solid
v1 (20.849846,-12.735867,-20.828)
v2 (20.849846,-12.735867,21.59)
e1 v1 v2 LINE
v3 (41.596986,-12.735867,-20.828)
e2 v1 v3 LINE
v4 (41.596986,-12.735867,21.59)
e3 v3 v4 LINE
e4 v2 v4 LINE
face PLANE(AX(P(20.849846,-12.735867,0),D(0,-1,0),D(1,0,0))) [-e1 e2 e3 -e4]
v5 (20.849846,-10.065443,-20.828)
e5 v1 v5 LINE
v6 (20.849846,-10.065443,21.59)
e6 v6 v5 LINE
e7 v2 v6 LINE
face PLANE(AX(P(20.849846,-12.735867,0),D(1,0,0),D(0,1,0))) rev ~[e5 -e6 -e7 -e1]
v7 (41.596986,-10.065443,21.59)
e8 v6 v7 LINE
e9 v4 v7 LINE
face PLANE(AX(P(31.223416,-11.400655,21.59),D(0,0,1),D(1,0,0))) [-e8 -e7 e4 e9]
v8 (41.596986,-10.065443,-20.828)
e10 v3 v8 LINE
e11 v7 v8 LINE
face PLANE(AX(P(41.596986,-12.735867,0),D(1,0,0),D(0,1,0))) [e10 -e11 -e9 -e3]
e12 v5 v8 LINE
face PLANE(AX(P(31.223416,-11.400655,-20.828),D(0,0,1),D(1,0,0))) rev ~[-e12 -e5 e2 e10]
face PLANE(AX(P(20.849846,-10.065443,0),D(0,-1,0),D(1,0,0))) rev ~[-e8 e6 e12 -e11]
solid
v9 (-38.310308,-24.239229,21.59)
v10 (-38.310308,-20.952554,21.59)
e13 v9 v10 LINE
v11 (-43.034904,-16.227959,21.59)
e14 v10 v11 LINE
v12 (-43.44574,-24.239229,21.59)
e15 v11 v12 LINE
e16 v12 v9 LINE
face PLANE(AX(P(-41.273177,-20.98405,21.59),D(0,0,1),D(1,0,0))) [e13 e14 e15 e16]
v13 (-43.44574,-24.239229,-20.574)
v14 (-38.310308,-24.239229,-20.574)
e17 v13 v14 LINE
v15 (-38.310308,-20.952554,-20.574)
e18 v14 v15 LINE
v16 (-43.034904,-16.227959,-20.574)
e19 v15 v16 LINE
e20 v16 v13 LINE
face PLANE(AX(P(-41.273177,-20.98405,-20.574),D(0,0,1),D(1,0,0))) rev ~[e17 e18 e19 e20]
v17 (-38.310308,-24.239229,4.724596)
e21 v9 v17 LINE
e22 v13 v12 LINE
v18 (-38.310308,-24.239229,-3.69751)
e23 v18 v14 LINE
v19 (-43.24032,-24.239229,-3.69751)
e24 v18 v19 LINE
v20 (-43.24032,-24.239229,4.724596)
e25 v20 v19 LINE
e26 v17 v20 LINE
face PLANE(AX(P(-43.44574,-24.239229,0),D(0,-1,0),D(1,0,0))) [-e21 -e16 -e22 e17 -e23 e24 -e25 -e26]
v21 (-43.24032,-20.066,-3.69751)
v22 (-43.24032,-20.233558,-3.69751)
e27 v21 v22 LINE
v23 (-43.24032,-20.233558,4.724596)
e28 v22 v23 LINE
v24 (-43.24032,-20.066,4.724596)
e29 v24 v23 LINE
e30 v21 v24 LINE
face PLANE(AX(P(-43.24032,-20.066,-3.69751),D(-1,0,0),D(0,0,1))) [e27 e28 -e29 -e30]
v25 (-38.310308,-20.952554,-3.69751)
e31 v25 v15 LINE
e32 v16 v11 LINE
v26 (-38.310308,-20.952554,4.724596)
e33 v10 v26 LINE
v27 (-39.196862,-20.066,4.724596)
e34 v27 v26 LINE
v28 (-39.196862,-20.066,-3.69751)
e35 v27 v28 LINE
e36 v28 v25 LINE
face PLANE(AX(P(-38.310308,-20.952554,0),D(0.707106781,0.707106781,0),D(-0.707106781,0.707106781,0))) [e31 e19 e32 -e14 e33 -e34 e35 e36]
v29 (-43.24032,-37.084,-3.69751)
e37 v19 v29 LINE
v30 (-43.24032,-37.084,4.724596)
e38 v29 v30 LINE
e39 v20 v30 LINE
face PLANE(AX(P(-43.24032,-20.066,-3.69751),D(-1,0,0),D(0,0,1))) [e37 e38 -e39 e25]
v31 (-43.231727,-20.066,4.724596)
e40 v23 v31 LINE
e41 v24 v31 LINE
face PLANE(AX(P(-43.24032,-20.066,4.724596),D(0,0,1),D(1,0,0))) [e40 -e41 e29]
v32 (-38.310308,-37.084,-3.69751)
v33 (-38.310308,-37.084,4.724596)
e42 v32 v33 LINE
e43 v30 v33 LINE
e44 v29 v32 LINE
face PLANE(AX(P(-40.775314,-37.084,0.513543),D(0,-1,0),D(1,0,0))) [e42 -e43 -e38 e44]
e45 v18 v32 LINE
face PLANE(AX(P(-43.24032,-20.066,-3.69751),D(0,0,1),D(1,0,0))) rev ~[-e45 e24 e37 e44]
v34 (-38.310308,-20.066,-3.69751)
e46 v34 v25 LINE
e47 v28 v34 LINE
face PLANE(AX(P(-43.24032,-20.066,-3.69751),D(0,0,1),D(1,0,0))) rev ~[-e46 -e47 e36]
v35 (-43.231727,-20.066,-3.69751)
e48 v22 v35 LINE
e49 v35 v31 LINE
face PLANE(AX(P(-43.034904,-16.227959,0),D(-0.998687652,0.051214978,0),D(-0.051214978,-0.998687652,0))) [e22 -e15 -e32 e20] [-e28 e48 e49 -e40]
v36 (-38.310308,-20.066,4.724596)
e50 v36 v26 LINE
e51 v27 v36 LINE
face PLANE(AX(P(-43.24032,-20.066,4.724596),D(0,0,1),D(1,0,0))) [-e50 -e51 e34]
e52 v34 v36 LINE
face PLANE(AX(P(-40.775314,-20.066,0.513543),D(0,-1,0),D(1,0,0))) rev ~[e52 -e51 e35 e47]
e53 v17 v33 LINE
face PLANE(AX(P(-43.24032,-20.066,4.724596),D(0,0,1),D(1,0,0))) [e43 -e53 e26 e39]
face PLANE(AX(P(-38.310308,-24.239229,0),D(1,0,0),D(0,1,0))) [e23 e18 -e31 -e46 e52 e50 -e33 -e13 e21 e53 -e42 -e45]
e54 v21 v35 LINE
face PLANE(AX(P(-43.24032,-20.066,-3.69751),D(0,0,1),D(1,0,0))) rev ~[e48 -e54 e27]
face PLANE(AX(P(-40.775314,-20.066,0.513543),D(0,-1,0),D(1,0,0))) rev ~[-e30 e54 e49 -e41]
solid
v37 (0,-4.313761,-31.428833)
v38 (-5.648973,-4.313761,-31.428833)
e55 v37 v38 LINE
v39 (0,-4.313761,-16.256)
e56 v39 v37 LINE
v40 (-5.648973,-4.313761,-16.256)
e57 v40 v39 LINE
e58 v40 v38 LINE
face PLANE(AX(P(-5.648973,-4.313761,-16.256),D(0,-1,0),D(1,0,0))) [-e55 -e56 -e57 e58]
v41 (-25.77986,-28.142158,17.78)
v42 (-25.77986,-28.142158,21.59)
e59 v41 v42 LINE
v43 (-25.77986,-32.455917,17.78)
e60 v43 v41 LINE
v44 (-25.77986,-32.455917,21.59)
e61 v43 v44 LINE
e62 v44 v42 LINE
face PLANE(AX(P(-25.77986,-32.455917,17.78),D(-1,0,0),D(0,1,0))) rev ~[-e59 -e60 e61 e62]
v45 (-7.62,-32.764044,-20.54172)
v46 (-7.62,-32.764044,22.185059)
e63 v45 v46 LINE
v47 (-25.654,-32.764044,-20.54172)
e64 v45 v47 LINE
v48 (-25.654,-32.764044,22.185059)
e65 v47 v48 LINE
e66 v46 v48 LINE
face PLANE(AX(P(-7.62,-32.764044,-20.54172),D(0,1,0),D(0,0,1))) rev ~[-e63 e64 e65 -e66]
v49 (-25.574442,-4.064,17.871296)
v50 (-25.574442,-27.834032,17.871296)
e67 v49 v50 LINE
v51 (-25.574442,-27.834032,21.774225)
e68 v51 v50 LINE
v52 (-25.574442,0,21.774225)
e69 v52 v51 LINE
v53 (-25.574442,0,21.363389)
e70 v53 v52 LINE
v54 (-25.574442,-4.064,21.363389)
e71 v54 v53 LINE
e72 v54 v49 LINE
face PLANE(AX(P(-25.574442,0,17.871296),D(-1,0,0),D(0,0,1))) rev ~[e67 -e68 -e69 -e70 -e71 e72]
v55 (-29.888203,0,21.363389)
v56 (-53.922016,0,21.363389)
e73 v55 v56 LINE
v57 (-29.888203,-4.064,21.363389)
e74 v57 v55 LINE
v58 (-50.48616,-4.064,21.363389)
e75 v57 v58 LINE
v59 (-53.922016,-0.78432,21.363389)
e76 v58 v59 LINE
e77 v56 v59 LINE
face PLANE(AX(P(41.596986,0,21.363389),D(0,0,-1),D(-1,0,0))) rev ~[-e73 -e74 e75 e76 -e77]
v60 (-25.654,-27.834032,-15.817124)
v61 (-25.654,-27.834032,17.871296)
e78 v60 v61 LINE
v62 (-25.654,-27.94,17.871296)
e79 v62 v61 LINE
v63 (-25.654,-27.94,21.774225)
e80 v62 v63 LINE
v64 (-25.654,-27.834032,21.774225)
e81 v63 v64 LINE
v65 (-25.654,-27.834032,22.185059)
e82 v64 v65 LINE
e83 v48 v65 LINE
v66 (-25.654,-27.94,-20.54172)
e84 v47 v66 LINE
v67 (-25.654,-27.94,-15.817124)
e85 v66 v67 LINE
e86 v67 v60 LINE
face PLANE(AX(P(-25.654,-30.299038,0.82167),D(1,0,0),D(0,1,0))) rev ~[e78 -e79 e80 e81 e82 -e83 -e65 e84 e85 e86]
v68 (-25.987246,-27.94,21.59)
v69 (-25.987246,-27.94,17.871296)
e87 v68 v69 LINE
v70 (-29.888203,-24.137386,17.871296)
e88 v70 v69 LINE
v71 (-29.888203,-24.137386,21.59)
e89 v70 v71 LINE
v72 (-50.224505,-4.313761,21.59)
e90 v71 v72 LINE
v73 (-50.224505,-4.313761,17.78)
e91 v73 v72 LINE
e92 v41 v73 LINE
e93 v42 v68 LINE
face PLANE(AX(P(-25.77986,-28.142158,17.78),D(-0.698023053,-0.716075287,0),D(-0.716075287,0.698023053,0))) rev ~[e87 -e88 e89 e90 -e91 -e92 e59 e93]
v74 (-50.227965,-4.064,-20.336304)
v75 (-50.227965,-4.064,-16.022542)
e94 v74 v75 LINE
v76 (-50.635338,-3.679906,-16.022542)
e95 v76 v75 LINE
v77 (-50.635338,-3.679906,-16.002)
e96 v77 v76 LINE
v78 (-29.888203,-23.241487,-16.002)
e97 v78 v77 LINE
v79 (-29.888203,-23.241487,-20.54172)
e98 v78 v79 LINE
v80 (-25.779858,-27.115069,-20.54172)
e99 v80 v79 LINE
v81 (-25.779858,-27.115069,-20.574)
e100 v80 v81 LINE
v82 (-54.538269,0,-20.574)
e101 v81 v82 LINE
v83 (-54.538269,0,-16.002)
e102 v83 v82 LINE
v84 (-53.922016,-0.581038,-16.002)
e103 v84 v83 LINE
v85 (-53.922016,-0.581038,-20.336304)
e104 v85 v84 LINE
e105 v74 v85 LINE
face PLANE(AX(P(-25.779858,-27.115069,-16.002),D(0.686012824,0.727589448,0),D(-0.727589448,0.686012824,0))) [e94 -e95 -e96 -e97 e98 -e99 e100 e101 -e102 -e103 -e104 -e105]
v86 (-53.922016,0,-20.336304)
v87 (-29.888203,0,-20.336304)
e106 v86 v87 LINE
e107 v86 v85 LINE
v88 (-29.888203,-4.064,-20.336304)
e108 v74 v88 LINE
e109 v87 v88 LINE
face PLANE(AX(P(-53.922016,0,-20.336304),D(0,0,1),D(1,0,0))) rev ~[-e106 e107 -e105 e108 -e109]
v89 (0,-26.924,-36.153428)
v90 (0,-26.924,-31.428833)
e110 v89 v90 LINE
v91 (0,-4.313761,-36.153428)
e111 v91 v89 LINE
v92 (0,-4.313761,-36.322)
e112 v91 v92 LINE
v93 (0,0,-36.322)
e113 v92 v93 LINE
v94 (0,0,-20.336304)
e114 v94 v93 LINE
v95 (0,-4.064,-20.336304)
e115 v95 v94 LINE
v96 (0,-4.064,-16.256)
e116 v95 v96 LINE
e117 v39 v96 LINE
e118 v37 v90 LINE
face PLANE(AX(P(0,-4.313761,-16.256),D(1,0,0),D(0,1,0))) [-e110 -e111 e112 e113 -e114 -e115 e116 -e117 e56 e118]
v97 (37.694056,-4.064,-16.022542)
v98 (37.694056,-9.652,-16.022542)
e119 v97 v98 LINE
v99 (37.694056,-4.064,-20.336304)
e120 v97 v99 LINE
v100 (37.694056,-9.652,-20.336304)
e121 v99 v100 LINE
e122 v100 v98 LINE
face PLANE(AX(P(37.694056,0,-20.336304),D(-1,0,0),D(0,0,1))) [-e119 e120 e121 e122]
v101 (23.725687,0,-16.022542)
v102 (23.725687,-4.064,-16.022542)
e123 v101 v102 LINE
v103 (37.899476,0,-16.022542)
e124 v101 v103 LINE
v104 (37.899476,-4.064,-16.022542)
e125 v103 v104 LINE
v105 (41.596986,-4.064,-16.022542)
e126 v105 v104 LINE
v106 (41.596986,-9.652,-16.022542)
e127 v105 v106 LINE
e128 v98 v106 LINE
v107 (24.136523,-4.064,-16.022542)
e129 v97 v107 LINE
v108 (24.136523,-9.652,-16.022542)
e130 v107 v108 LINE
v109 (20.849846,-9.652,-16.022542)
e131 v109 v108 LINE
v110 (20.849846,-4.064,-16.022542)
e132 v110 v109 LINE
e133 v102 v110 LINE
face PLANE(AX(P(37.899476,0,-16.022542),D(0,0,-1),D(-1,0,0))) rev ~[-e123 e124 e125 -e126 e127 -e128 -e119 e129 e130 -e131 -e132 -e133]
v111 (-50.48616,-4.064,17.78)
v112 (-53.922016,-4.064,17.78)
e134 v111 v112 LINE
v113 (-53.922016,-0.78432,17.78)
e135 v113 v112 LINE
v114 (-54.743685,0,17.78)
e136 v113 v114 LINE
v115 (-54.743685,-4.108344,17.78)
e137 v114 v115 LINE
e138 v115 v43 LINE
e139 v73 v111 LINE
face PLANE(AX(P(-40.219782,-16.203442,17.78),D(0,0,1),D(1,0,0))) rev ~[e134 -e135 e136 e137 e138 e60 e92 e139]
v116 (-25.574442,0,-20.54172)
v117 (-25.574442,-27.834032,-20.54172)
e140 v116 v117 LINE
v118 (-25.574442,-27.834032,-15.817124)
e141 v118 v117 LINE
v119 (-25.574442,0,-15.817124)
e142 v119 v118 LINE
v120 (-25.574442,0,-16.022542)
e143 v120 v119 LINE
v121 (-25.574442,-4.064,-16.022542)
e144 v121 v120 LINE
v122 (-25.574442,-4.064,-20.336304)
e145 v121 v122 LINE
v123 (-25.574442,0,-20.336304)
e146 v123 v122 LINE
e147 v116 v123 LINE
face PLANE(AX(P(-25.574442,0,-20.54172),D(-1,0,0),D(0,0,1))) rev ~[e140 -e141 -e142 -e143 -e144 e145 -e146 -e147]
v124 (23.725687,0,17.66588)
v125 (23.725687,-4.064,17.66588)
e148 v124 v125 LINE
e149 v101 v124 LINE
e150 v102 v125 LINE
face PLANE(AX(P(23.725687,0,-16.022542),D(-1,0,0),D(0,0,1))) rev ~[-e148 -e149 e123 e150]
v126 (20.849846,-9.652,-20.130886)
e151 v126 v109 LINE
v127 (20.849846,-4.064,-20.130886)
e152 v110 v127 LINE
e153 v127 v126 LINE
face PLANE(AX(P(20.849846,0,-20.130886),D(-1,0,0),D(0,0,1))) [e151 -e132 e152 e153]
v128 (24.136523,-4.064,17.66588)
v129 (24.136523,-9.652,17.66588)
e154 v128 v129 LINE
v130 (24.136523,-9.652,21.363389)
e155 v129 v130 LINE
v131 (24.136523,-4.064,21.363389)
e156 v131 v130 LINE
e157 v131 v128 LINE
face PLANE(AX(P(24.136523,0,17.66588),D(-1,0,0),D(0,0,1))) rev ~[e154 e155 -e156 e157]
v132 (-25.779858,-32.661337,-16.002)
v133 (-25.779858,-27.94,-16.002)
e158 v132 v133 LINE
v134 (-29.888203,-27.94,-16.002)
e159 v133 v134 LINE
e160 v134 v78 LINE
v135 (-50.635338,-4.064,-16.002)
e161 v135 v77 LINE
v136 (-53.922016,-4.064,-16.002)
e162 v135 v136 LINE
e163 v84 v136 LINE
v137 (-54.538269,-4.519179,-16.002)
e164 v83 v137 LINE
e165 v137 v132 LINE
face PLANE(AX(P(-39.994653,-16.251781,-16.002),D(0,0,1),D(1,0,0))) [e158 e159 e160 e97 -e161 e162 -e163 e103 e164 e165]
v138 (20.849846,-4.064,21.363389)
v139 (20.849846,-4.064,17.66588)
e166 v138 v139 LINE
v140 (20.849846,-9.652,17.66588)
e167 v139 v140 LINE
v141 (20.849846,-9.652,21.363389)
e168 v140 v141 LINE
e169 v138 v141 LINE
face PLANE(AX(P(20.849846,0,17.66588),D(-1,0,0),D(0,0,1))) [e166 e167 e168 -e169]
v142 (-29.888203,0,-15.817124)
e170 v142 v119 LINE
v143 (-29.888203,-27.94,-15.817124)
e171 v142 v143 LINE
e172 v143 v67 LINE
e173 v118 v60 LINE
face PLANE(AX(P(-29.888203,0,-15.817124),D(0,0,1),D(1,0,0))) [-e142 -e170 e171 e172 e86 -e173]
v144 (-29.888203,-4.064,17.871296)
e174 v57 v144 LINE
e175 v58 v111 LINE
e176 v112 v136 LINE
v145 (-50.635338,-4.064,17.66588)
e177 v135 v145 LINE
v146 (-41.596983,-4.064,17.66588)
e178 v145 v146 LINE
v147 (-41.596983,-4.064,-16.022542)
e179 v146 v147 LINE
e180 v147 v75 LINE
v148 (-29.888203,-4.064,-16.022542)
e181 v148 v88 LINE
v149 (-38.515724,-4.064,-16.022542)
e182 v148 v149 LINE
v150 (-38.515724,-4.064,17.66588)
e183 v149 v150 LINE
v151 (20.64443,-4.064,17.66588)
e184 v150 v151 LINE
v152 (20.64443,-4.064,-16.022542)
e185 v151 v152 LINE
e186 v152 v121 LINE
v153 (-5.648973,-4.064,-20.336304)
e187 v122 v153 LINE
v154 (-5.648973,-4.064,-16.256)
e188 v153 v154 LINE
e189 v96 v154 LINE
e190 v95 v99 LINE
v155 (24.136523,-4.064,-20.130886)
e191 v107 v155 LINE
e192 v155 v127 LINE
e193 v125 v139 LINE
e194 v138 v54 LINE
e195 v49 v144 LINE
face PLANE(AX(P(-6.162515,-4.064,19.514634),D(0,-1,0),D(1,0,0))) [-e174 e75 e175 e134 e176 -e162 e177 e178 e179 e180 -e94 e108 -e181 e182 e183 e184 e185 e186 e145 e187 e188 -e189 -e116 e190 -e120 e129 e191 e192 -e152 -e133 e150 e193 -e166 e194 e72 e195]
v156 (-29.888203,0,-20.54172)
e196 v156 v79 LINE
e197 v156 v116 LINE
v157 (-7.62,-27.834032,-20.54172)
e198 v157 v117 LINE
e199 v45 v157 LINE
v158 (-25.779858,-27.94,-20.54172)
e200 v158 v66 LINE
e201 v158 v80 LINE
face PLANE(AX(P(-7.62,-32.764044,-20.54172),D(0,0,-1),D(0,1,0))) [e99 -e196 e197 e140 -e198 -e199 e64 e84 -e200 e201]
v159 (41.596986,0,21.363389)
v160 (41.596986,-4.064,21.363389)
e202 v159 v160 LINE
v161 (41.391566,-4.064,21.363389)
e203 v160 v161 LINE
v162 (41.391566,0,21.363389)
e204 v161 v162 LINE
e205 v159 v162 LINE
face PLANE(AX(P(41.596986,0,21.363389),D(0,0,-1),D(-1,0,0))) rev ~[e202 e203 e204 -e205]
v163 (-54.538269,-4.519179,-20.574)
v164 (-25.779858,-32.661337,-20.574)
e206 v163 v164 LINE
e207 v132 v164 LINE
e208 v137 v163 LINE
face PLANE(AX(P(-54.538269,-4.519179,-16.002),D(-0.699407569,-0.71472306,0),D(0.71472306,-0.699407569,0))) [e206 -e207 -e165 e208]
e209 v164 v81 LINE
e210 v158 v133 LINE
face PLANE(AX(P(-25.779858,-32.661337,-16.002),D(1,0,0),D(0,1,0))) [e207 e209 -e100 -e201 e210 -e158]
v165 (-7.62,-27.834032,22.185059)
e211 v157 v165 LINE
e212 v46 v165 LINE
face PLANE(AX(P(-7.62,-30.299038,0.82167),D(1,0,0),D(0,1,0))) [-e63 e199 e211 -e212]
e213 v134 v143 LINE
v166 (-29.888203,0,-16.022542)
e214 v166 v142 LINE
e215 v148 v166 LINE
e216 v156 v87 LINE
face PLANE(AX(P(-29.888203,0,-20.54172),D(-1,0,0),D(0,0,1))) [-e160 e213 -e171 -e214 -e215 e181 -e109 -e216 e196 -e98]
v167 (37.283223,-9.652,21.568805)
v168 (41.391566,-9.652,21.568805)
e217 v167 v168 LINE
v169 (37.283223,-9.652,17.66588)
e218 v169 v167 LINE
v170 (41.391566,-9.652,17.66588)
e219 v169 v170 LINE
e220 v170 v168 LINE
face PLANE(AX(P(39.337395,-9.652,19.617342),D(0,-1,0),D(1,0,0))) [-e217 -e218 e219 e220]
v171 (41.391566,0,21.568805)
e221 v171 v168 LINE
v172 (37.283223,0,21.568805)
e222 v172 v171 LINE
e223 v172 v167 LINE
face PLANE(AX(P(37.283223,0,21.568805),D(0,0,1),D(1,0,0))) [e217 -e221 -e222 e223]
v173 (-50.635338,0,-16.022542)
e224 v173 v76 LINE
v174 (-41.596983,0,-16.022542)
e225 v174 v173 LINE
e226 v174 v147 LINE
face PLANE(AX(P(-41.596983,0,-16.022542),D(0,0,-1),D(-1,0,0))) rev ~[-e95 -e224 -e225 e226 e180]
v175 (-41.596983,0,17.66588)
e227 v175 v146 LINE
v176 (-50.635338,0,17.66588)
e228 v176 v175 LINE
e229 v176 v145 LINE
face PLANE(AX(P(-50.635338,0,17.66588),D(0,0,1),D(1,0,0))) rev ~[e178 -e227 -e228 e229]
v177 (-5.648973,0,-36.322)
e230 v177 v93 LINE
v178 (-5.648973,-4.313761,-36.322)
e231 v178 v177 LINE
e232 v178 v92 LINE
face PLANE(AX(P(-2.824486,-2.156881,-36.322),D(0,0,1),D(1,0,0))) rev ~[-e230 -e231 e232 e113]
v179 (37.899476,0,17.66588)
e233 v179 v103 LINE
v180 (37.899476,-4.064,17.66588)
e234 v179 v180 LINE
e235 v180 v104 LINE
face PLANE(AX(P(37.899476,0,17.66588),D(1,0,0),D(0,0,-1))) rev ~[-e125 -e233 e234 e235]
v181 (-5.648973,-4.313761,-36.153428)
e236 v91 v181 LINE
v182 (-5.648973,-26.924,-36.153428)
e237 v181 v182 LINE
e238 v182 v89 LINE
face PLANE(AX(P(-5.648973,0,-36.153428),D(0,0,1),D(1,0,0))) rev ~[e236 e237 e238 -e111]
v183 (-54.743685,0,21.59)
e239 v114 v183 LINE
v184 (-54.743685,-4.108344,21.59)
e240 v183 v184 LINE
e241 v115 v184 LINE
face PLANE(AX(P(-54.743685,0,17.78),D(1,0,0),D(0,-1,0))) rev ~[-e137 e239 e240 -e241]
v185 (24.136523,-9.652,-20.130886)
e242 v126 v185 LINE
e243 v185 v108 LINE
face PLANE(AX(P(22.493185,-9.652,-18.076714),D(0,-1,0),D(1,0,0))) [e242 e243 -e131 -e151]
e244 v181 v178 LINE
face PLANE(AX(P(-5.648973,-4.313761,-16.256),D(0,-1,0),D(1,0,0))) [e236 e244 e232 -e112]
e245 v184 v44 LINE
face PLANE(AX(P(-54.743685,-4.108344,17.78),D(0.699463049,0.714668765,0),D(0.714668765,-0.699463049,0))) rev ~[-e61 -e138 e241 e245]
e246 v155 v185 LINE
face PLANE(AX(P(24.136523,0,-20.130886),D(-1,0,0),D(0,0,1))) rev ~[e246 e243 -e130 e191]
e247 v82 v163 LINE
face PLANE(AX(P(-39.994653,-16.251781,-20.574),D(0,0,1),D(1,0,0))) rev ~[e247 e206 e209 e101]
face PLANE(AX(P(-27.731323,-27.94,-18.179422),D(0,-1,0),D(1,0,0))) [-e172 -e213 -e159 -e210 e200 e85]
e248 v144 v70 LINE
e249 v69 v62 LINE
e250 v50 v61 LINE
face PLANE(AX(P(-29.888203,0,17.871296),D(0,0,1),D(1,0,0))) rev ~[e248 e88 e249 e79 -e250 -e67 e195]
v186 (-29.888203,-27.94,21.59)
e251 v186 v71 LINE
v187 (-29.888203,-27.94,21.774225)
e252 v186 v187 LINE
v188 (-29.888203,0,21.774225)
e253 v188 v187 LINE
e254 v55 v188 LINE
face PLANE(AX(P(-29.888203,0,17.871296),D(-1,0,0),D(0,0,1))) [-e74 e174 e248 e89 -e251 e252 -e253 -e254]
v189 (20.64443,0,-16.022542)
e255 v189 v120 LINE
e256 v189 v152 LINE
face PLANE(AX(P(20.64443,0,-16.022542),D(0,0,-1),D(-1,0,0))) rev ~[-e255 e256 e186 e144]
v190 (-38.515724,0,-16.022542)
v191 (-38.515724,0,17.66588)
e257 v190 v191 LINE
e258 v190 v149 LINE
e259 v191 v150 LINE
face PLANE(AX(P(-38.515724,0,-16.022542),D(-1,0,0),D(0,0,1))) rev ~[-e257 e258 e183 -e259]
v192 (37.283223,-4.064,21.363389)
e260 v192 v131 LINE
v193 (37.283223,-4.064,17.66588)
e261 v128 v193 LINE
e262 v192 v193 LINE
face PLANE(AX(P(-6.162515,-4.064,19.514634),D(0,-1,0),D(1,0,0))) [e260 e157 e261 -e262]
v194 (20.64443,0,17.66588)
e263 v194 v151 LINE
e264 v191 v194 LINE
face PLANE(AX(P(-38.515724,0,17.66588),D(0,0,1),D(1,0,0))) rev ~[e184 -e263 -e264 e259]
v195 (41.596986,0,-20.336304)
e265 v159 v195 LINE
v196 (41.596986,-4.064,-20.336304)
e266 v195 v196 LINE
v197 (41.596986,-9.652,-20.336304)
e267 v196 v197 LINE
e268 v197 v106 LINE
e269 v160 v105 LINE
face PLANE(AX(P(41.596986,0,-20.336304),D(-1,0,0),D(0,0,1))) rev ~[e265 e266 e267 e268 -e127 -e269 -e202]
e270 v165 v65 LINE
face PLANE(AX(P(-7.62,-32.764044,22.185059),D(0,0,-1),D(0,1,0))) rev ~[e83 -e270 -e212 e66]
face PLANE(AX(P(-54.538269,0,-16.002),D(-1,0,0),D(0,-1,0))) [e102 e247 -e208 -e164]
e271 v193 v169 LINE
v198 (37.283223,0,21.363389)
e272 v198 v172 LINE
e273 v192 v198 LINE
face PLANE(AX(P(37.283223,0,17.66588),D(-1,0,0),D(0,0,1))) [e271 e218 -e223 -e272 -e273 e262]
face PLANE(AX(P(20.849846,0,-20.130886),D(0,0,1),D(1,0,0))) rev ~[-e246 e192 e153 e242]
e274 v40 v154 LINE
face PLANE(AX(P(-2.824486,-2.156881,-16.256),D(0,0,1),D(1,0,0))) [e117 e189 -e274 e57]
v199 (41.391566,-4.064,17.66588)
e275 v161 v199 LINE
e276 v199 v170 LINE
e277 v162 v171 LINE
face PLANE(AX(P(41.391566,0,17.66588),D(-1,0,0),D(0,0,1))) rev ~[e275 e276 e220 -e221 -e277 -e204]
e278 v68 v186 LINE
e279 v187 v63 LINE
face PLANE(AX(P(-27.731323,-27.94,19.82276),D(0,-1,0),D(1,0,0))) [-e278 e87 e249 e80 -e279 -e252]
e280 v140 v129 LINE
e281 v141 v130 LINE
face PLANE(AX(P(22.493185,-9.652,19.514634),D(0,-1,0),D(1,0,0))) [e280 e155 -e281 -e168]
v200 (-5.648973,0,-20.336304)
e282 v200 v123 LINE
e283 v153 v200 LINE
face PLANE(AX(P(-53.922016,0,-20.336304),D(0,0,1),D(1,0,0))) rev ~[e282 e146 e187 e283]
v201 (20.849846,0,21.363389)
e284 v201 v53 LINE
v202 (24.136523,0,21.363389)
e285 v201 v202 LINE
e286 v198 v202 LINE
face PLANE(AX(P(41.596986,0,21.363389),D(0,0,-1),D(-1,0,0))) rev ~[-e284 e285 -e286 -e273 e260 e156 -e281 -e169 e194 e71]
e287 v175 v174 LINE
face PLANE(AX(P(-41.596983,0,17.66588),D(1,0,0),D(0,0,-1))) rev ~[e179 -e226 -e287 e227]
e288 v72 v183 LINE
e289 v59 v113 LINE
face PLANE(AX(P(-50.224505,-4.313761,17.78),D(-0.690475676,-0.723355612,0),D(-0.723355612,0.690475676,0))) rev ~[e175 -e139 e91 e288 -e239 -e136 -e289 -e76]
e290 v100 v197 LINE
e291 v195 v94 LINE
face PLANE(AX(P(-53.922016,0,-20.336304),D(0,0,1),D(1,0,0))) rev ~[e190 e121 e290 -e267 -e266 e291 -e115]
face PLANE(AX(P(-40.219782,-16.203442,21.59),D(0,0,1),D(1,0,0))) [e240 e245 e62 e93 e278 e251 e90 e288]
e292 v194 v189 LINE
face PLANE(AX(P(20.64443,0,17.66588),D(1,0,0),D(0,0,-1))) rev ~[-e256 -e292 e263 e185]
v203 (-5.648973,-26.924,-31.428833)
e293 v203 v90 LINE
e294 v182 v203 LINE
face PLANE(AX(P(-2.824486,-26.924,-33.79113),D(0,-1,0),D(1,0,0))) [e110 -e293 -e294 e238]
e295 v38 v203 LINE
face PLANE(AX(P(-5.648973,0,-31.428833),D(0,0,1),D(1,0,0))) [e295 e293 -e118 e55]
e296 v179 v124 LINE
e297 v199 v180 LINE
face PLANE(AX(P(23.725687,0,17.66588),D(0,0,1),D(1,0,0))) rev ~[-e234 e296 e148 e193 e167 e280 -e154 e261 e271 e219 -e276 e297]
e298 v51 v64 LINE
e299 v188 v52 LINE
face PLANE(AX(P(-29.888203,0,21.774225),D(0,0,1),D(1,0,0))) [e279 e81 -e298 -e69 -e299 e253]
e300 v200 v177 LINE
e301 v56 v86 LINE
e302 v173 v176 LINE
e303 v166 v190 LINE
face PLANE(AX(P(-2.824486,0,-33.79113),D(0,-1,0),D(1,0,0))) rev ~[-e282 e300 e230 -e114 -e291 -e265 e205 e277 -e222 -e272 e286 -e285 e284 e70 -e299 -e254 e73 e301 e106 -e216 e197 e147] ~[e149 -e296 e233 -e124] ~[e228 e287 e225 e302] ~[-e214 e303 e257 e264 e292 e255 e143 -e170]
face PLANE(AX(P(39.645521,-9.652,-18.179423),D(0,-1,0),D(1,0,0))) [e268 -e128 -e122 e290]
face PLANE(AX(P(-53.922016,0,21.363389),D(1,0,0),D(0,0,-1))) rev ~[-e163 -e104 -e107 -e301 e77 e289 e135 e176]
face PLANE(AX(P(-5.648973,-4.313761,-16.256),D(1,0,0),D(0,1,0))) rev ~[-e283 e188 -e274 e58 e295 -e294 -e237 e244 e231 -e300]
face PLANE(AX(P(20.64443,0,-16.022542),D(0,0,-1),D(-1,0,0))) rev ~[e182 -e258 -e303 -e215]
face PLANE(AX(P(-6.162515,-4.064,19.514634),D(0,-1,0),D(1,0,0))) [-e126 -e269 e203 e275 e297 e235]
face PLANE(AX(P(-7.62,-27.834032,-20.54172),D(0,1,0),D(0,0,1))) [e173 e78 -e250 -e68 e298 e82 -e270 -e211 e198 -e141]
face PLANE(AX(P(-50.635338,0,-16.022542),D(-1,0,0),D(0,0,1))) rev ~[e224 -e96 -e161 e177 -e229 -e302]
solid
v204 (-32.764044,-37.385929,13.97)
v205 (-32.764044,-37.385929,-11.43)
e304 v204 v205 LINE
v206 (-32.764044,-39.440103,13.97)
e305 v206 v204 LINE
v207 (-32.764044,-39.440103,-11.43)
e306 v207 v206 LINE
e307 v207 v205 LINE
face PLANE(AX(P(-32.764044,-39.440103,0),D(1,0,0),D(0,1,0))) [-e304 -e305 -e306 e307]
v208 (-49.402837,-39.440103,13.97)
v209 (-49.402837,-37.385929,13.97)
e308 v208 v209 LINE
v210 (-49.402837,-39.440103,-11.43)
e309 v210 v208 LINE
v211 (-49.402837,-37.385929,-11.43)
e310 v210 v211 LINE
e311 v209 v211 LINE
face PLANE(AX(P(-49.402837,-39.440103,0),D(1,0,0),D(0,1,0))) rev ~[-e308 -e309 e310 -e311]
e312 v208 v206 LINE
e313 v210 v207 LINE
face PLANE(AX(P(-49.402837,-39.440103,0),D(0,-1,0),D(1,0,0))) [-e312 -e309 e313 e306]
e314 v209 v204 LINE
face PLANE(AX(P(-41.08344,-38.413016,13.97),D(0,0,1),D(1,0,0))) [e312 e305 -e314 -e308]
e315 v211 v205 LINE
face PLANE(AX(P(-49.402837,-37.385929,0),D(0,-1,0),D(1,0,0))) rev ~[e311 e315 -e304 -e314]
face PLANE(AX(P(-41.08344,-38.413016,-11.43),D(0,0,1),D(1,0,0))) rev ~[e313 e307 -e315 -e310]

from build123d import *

# Parameters (mm, degrees)
F0_W           = 3.286678344
F0_H           = 16.0225424916
F0_H_2         = 17.6658798009
F0_W_2         = 3.0812583864
F0_W_3         = 3.0812565237
F0_W_4         = 3.6975108087
F1_DEPTH       = 4.064
F2_W           = 4.3137613684
F2_H           = 4.7245956957
F2_H_2         = 3.9029289037
F3_DEPTH       = 27.94
F5_START       = 17.78
F5_DEPTH       = 3.81
F7_START       = -16.002
F7_DEPTH       = 4.572
F9_START       = -7.62
F8_W           = 4.9300119281
F8_H           = 42.7267793566
F9_DEPTH       = 18.034
F10_W          = 3.9029307663
F10_H          = 4.3137613684
F10_W_2        = 4.1083432734
F10_H_2        = 3.9029251784
F10_W_3        = 3.2866764814
F10_H_3        = 3.6975089461
F10_H_4        = 4.1083432734
F11_DEPTH      = 9.652
F12_W          = 20.7471400499
F12_H          = 2.670424059
F13_DEPTH      = 21.59
F13_DEPTH_BACK = 20.828
F15_START      = -16.256
F14_W          = 5.6489729322
F14_H          = 4.3137613684
F15_DEPTH      = 20.066
F16_W          = 5.6489729322
F16_H          = 4.7245956957
F17_DEPTH      = 26.924
F19_DEPTH      = 21.59
F19_DEPTH_BACK = 20.574
F21_START      = 20.066
F20_W          = 4.9300119281
F20_H          = 8.4221053403
F21_DEPTH      = 17.018
F22_W          = 16.6387930512
F22_H          = 2.0541734993
F23_DEPTH      = 13.97
F23_DEPTH_BACK = 11.43


with BuildPart() as f1:
    # F0 (on Front) → F1 (new body)
    with BuildSketch(Plane.XZ):
        Polygon((-53.9220161736, 21.363388747), (-53.9220161736, 17.6658798009), (-50.6353378296, 17.6658798009), (-41.5969826281, 17.6658798009), (-38.5157242417, 17.6658798009), (20.6444300711, 17.6658798009), (23.7256865948, 17.6658798009), (37.8994755447, 17.6658798009), (41.5969863534, 17.6658798009), (41.5969863534, 21.363388747), align=None)
        Polygon((-50.6353378296, -16.0225424916), (-53.9220161736, -16.0225424916), (-53.9220161736, -20.3363038599), (41.5969863534, -20.3363038599), (41.5969863534, -16.0225424916), (37.8994755447, -16.0225424916), (23.7256865948, -16.0225424916), (20.6444300711, -16.0225424916), (-38.5157242417, -16.0225424916), (-41.5969826281, -16.0225424916), align=None)
        with Locations((-52.2786770016, -8.0112712458)):
            Rectangle(F0_W, F0_H)
        with Locations((-52.2786770016, 8.8329399005)):
            Rectangle(F0_W, F0_H_2)
        with Locations((-40.0563534349, 8.8329399005)):
            Rectangle(F0_W_2, F0_H_2)
        with Locations((-40.0563534349, -8.0112712458)):
            Rectangle(F0_W_2, F0_H)
        with Locations((22.185058333, 8.8329399005)):
            Rectangle(F0_W_3, F0_H_2)
        with Locations((22.185058333, -8.0112712458)):
            Rectangle(F0_W_3, F0_H)
        with Locations((39.748230949, -8.0112712458)):
            Rectangle(F0_W_4, F0_H)
        with Locations((39.748230949, 8.8329399005)):
            Rectangle(F0_W_4, F0_H_2)
    extrude(amount=F1_DEPTH)

    # F2 (on Front) → F3 (join)
    with BuildSketch(Plane.XZ):
        with Locations((-27.7313226834, -18.1794222444)):
            Rectangle(F2_W, F2_H)
        with Locations((-27.7313226834, 19.8227604851)):
            Rectangle(F2_W, F2_H_2)
    extrude(amount=F3_DEPTH)

    # F4 (on Top) → F5 (join)
    with BuildSketch(Plane.XY.offset(F5_START)):
        Polygon((-25.7798600942, -28.1421579421), (-50.2245053649, -4.3137613684), (-54.7436848283, 0), (-54.7436848283, -4.1083442047), (-25.7798600942, -32.4559174478), align=None)
    extrude(amount=F5_DEPTH)

    # F6 (on Top) → F7 (join)
    with BuildSketch(Plane.XY.offset(F7_START)):
        Polygon((-54.5382685959, -4.5191785321), (-25.7798582315, -32.6613374054), (-25.7798582315, -27.1150693297), (-54.5382685959, 0), align=None)
    extrude(amount=-F7_DEPTH)

    # F8 (on Right) → F9 (join)
    with BuildSketch(Plane.YZ.offset(F9_START)):
        with Locations((-30.2990376949, 0.821669586)):
            Rectangle(F8_W, F8_H)
    extrude(amount=-F9_DEPTH)

    # F10 (on Front) → F11 (join)
    with BuildSketch(Plane.XZ):
        with Locations((39.6455209702, -18.1794231758)):
            Rectangle(F10_W, F10_H)
        with Locations((39.3373947591, 19.6173423901)):
            Rectangle(F10_W_2, F10_H_2)
        with Locations((22.4931845441, 19.5146342739)):
            Rectangle(F10_W_3, F10_H_3)
        with Locations((22.4931845441, -18.0767141283)):
            Rectangle(F10_W_3, F10_H_4)
    extrude(amount=F11_DEPTH)

    # F14 (on Top) → F15 (join)
    with BuildSketch(Plane.XY.offset(F15_START)):
        with Locations((-2.8244864661, -2.1568806842)):
            Rectangle(F14_W, F14_H)
    extrude(amount=-F15_DEPTH)

    # F16 (on Front) → F17 (join)
    with BuildSketch(Plane.XZ):
        with Locations((-2.8244864661, -33.7911304086)):
            Rectangle(F16_W, F16_H)
    extrude(amount=F17_DEPTH)


with BuildPart() as f13:
    # F12 (on Top) → F13 (new body, two sides)
    with BuildSketch(Plane.XY) as f13_sk:
        with Locations((31.2234163284, -11.400654912)):
            Rectangle(F12_W, F12_H)
    extrude(amount=F13_DEPTH)
    extrude(f13_sk.sketch, amount=-F13_DEPTH_BACK)


with BuildPart() as f19:
    # F18 (on Top) → F19 (new body, two sides)
    with BuildSketch(Plane.XY) as f19_sk:
        Polygon((-38.3103080094, -20.9525544196), (-43.0349037051, -16.2279587239), (-43.4457398951, -24.2392290384), (-38.3103080094, -24.2392290384), align=None)
    extrude(amount=F19_DEPTH)
    extrude(f19_sk.sketch, amount=-F19_DEPTH_BACK)

    # F20 (on Front) → F21 (join)
    with BuildSketch(Plane.XZ.offset(F21_START)):
        with Locations((-40.7753139734, 0.5135430256)):
            Rectangle(F20_W, F20_H)
    extrude(amount=F21_DEPTH)


with BuildPart() as f23:
    # F22 (on Top) → F23 (new body, two sides)
    with BuildSketch(Plane.XY) as f23_sk:
        with Locations((-41.0834401846, -38.4130161256)):
            Rectangle(F22_W, F22_H)
    extrude(amount=F23_DEPTH)
    extrude(f23_sk.sketch, amount=-F23_DEPTH_BACK)


solid = Compound([f1.part, f13.part, f19.part, f23.part])
